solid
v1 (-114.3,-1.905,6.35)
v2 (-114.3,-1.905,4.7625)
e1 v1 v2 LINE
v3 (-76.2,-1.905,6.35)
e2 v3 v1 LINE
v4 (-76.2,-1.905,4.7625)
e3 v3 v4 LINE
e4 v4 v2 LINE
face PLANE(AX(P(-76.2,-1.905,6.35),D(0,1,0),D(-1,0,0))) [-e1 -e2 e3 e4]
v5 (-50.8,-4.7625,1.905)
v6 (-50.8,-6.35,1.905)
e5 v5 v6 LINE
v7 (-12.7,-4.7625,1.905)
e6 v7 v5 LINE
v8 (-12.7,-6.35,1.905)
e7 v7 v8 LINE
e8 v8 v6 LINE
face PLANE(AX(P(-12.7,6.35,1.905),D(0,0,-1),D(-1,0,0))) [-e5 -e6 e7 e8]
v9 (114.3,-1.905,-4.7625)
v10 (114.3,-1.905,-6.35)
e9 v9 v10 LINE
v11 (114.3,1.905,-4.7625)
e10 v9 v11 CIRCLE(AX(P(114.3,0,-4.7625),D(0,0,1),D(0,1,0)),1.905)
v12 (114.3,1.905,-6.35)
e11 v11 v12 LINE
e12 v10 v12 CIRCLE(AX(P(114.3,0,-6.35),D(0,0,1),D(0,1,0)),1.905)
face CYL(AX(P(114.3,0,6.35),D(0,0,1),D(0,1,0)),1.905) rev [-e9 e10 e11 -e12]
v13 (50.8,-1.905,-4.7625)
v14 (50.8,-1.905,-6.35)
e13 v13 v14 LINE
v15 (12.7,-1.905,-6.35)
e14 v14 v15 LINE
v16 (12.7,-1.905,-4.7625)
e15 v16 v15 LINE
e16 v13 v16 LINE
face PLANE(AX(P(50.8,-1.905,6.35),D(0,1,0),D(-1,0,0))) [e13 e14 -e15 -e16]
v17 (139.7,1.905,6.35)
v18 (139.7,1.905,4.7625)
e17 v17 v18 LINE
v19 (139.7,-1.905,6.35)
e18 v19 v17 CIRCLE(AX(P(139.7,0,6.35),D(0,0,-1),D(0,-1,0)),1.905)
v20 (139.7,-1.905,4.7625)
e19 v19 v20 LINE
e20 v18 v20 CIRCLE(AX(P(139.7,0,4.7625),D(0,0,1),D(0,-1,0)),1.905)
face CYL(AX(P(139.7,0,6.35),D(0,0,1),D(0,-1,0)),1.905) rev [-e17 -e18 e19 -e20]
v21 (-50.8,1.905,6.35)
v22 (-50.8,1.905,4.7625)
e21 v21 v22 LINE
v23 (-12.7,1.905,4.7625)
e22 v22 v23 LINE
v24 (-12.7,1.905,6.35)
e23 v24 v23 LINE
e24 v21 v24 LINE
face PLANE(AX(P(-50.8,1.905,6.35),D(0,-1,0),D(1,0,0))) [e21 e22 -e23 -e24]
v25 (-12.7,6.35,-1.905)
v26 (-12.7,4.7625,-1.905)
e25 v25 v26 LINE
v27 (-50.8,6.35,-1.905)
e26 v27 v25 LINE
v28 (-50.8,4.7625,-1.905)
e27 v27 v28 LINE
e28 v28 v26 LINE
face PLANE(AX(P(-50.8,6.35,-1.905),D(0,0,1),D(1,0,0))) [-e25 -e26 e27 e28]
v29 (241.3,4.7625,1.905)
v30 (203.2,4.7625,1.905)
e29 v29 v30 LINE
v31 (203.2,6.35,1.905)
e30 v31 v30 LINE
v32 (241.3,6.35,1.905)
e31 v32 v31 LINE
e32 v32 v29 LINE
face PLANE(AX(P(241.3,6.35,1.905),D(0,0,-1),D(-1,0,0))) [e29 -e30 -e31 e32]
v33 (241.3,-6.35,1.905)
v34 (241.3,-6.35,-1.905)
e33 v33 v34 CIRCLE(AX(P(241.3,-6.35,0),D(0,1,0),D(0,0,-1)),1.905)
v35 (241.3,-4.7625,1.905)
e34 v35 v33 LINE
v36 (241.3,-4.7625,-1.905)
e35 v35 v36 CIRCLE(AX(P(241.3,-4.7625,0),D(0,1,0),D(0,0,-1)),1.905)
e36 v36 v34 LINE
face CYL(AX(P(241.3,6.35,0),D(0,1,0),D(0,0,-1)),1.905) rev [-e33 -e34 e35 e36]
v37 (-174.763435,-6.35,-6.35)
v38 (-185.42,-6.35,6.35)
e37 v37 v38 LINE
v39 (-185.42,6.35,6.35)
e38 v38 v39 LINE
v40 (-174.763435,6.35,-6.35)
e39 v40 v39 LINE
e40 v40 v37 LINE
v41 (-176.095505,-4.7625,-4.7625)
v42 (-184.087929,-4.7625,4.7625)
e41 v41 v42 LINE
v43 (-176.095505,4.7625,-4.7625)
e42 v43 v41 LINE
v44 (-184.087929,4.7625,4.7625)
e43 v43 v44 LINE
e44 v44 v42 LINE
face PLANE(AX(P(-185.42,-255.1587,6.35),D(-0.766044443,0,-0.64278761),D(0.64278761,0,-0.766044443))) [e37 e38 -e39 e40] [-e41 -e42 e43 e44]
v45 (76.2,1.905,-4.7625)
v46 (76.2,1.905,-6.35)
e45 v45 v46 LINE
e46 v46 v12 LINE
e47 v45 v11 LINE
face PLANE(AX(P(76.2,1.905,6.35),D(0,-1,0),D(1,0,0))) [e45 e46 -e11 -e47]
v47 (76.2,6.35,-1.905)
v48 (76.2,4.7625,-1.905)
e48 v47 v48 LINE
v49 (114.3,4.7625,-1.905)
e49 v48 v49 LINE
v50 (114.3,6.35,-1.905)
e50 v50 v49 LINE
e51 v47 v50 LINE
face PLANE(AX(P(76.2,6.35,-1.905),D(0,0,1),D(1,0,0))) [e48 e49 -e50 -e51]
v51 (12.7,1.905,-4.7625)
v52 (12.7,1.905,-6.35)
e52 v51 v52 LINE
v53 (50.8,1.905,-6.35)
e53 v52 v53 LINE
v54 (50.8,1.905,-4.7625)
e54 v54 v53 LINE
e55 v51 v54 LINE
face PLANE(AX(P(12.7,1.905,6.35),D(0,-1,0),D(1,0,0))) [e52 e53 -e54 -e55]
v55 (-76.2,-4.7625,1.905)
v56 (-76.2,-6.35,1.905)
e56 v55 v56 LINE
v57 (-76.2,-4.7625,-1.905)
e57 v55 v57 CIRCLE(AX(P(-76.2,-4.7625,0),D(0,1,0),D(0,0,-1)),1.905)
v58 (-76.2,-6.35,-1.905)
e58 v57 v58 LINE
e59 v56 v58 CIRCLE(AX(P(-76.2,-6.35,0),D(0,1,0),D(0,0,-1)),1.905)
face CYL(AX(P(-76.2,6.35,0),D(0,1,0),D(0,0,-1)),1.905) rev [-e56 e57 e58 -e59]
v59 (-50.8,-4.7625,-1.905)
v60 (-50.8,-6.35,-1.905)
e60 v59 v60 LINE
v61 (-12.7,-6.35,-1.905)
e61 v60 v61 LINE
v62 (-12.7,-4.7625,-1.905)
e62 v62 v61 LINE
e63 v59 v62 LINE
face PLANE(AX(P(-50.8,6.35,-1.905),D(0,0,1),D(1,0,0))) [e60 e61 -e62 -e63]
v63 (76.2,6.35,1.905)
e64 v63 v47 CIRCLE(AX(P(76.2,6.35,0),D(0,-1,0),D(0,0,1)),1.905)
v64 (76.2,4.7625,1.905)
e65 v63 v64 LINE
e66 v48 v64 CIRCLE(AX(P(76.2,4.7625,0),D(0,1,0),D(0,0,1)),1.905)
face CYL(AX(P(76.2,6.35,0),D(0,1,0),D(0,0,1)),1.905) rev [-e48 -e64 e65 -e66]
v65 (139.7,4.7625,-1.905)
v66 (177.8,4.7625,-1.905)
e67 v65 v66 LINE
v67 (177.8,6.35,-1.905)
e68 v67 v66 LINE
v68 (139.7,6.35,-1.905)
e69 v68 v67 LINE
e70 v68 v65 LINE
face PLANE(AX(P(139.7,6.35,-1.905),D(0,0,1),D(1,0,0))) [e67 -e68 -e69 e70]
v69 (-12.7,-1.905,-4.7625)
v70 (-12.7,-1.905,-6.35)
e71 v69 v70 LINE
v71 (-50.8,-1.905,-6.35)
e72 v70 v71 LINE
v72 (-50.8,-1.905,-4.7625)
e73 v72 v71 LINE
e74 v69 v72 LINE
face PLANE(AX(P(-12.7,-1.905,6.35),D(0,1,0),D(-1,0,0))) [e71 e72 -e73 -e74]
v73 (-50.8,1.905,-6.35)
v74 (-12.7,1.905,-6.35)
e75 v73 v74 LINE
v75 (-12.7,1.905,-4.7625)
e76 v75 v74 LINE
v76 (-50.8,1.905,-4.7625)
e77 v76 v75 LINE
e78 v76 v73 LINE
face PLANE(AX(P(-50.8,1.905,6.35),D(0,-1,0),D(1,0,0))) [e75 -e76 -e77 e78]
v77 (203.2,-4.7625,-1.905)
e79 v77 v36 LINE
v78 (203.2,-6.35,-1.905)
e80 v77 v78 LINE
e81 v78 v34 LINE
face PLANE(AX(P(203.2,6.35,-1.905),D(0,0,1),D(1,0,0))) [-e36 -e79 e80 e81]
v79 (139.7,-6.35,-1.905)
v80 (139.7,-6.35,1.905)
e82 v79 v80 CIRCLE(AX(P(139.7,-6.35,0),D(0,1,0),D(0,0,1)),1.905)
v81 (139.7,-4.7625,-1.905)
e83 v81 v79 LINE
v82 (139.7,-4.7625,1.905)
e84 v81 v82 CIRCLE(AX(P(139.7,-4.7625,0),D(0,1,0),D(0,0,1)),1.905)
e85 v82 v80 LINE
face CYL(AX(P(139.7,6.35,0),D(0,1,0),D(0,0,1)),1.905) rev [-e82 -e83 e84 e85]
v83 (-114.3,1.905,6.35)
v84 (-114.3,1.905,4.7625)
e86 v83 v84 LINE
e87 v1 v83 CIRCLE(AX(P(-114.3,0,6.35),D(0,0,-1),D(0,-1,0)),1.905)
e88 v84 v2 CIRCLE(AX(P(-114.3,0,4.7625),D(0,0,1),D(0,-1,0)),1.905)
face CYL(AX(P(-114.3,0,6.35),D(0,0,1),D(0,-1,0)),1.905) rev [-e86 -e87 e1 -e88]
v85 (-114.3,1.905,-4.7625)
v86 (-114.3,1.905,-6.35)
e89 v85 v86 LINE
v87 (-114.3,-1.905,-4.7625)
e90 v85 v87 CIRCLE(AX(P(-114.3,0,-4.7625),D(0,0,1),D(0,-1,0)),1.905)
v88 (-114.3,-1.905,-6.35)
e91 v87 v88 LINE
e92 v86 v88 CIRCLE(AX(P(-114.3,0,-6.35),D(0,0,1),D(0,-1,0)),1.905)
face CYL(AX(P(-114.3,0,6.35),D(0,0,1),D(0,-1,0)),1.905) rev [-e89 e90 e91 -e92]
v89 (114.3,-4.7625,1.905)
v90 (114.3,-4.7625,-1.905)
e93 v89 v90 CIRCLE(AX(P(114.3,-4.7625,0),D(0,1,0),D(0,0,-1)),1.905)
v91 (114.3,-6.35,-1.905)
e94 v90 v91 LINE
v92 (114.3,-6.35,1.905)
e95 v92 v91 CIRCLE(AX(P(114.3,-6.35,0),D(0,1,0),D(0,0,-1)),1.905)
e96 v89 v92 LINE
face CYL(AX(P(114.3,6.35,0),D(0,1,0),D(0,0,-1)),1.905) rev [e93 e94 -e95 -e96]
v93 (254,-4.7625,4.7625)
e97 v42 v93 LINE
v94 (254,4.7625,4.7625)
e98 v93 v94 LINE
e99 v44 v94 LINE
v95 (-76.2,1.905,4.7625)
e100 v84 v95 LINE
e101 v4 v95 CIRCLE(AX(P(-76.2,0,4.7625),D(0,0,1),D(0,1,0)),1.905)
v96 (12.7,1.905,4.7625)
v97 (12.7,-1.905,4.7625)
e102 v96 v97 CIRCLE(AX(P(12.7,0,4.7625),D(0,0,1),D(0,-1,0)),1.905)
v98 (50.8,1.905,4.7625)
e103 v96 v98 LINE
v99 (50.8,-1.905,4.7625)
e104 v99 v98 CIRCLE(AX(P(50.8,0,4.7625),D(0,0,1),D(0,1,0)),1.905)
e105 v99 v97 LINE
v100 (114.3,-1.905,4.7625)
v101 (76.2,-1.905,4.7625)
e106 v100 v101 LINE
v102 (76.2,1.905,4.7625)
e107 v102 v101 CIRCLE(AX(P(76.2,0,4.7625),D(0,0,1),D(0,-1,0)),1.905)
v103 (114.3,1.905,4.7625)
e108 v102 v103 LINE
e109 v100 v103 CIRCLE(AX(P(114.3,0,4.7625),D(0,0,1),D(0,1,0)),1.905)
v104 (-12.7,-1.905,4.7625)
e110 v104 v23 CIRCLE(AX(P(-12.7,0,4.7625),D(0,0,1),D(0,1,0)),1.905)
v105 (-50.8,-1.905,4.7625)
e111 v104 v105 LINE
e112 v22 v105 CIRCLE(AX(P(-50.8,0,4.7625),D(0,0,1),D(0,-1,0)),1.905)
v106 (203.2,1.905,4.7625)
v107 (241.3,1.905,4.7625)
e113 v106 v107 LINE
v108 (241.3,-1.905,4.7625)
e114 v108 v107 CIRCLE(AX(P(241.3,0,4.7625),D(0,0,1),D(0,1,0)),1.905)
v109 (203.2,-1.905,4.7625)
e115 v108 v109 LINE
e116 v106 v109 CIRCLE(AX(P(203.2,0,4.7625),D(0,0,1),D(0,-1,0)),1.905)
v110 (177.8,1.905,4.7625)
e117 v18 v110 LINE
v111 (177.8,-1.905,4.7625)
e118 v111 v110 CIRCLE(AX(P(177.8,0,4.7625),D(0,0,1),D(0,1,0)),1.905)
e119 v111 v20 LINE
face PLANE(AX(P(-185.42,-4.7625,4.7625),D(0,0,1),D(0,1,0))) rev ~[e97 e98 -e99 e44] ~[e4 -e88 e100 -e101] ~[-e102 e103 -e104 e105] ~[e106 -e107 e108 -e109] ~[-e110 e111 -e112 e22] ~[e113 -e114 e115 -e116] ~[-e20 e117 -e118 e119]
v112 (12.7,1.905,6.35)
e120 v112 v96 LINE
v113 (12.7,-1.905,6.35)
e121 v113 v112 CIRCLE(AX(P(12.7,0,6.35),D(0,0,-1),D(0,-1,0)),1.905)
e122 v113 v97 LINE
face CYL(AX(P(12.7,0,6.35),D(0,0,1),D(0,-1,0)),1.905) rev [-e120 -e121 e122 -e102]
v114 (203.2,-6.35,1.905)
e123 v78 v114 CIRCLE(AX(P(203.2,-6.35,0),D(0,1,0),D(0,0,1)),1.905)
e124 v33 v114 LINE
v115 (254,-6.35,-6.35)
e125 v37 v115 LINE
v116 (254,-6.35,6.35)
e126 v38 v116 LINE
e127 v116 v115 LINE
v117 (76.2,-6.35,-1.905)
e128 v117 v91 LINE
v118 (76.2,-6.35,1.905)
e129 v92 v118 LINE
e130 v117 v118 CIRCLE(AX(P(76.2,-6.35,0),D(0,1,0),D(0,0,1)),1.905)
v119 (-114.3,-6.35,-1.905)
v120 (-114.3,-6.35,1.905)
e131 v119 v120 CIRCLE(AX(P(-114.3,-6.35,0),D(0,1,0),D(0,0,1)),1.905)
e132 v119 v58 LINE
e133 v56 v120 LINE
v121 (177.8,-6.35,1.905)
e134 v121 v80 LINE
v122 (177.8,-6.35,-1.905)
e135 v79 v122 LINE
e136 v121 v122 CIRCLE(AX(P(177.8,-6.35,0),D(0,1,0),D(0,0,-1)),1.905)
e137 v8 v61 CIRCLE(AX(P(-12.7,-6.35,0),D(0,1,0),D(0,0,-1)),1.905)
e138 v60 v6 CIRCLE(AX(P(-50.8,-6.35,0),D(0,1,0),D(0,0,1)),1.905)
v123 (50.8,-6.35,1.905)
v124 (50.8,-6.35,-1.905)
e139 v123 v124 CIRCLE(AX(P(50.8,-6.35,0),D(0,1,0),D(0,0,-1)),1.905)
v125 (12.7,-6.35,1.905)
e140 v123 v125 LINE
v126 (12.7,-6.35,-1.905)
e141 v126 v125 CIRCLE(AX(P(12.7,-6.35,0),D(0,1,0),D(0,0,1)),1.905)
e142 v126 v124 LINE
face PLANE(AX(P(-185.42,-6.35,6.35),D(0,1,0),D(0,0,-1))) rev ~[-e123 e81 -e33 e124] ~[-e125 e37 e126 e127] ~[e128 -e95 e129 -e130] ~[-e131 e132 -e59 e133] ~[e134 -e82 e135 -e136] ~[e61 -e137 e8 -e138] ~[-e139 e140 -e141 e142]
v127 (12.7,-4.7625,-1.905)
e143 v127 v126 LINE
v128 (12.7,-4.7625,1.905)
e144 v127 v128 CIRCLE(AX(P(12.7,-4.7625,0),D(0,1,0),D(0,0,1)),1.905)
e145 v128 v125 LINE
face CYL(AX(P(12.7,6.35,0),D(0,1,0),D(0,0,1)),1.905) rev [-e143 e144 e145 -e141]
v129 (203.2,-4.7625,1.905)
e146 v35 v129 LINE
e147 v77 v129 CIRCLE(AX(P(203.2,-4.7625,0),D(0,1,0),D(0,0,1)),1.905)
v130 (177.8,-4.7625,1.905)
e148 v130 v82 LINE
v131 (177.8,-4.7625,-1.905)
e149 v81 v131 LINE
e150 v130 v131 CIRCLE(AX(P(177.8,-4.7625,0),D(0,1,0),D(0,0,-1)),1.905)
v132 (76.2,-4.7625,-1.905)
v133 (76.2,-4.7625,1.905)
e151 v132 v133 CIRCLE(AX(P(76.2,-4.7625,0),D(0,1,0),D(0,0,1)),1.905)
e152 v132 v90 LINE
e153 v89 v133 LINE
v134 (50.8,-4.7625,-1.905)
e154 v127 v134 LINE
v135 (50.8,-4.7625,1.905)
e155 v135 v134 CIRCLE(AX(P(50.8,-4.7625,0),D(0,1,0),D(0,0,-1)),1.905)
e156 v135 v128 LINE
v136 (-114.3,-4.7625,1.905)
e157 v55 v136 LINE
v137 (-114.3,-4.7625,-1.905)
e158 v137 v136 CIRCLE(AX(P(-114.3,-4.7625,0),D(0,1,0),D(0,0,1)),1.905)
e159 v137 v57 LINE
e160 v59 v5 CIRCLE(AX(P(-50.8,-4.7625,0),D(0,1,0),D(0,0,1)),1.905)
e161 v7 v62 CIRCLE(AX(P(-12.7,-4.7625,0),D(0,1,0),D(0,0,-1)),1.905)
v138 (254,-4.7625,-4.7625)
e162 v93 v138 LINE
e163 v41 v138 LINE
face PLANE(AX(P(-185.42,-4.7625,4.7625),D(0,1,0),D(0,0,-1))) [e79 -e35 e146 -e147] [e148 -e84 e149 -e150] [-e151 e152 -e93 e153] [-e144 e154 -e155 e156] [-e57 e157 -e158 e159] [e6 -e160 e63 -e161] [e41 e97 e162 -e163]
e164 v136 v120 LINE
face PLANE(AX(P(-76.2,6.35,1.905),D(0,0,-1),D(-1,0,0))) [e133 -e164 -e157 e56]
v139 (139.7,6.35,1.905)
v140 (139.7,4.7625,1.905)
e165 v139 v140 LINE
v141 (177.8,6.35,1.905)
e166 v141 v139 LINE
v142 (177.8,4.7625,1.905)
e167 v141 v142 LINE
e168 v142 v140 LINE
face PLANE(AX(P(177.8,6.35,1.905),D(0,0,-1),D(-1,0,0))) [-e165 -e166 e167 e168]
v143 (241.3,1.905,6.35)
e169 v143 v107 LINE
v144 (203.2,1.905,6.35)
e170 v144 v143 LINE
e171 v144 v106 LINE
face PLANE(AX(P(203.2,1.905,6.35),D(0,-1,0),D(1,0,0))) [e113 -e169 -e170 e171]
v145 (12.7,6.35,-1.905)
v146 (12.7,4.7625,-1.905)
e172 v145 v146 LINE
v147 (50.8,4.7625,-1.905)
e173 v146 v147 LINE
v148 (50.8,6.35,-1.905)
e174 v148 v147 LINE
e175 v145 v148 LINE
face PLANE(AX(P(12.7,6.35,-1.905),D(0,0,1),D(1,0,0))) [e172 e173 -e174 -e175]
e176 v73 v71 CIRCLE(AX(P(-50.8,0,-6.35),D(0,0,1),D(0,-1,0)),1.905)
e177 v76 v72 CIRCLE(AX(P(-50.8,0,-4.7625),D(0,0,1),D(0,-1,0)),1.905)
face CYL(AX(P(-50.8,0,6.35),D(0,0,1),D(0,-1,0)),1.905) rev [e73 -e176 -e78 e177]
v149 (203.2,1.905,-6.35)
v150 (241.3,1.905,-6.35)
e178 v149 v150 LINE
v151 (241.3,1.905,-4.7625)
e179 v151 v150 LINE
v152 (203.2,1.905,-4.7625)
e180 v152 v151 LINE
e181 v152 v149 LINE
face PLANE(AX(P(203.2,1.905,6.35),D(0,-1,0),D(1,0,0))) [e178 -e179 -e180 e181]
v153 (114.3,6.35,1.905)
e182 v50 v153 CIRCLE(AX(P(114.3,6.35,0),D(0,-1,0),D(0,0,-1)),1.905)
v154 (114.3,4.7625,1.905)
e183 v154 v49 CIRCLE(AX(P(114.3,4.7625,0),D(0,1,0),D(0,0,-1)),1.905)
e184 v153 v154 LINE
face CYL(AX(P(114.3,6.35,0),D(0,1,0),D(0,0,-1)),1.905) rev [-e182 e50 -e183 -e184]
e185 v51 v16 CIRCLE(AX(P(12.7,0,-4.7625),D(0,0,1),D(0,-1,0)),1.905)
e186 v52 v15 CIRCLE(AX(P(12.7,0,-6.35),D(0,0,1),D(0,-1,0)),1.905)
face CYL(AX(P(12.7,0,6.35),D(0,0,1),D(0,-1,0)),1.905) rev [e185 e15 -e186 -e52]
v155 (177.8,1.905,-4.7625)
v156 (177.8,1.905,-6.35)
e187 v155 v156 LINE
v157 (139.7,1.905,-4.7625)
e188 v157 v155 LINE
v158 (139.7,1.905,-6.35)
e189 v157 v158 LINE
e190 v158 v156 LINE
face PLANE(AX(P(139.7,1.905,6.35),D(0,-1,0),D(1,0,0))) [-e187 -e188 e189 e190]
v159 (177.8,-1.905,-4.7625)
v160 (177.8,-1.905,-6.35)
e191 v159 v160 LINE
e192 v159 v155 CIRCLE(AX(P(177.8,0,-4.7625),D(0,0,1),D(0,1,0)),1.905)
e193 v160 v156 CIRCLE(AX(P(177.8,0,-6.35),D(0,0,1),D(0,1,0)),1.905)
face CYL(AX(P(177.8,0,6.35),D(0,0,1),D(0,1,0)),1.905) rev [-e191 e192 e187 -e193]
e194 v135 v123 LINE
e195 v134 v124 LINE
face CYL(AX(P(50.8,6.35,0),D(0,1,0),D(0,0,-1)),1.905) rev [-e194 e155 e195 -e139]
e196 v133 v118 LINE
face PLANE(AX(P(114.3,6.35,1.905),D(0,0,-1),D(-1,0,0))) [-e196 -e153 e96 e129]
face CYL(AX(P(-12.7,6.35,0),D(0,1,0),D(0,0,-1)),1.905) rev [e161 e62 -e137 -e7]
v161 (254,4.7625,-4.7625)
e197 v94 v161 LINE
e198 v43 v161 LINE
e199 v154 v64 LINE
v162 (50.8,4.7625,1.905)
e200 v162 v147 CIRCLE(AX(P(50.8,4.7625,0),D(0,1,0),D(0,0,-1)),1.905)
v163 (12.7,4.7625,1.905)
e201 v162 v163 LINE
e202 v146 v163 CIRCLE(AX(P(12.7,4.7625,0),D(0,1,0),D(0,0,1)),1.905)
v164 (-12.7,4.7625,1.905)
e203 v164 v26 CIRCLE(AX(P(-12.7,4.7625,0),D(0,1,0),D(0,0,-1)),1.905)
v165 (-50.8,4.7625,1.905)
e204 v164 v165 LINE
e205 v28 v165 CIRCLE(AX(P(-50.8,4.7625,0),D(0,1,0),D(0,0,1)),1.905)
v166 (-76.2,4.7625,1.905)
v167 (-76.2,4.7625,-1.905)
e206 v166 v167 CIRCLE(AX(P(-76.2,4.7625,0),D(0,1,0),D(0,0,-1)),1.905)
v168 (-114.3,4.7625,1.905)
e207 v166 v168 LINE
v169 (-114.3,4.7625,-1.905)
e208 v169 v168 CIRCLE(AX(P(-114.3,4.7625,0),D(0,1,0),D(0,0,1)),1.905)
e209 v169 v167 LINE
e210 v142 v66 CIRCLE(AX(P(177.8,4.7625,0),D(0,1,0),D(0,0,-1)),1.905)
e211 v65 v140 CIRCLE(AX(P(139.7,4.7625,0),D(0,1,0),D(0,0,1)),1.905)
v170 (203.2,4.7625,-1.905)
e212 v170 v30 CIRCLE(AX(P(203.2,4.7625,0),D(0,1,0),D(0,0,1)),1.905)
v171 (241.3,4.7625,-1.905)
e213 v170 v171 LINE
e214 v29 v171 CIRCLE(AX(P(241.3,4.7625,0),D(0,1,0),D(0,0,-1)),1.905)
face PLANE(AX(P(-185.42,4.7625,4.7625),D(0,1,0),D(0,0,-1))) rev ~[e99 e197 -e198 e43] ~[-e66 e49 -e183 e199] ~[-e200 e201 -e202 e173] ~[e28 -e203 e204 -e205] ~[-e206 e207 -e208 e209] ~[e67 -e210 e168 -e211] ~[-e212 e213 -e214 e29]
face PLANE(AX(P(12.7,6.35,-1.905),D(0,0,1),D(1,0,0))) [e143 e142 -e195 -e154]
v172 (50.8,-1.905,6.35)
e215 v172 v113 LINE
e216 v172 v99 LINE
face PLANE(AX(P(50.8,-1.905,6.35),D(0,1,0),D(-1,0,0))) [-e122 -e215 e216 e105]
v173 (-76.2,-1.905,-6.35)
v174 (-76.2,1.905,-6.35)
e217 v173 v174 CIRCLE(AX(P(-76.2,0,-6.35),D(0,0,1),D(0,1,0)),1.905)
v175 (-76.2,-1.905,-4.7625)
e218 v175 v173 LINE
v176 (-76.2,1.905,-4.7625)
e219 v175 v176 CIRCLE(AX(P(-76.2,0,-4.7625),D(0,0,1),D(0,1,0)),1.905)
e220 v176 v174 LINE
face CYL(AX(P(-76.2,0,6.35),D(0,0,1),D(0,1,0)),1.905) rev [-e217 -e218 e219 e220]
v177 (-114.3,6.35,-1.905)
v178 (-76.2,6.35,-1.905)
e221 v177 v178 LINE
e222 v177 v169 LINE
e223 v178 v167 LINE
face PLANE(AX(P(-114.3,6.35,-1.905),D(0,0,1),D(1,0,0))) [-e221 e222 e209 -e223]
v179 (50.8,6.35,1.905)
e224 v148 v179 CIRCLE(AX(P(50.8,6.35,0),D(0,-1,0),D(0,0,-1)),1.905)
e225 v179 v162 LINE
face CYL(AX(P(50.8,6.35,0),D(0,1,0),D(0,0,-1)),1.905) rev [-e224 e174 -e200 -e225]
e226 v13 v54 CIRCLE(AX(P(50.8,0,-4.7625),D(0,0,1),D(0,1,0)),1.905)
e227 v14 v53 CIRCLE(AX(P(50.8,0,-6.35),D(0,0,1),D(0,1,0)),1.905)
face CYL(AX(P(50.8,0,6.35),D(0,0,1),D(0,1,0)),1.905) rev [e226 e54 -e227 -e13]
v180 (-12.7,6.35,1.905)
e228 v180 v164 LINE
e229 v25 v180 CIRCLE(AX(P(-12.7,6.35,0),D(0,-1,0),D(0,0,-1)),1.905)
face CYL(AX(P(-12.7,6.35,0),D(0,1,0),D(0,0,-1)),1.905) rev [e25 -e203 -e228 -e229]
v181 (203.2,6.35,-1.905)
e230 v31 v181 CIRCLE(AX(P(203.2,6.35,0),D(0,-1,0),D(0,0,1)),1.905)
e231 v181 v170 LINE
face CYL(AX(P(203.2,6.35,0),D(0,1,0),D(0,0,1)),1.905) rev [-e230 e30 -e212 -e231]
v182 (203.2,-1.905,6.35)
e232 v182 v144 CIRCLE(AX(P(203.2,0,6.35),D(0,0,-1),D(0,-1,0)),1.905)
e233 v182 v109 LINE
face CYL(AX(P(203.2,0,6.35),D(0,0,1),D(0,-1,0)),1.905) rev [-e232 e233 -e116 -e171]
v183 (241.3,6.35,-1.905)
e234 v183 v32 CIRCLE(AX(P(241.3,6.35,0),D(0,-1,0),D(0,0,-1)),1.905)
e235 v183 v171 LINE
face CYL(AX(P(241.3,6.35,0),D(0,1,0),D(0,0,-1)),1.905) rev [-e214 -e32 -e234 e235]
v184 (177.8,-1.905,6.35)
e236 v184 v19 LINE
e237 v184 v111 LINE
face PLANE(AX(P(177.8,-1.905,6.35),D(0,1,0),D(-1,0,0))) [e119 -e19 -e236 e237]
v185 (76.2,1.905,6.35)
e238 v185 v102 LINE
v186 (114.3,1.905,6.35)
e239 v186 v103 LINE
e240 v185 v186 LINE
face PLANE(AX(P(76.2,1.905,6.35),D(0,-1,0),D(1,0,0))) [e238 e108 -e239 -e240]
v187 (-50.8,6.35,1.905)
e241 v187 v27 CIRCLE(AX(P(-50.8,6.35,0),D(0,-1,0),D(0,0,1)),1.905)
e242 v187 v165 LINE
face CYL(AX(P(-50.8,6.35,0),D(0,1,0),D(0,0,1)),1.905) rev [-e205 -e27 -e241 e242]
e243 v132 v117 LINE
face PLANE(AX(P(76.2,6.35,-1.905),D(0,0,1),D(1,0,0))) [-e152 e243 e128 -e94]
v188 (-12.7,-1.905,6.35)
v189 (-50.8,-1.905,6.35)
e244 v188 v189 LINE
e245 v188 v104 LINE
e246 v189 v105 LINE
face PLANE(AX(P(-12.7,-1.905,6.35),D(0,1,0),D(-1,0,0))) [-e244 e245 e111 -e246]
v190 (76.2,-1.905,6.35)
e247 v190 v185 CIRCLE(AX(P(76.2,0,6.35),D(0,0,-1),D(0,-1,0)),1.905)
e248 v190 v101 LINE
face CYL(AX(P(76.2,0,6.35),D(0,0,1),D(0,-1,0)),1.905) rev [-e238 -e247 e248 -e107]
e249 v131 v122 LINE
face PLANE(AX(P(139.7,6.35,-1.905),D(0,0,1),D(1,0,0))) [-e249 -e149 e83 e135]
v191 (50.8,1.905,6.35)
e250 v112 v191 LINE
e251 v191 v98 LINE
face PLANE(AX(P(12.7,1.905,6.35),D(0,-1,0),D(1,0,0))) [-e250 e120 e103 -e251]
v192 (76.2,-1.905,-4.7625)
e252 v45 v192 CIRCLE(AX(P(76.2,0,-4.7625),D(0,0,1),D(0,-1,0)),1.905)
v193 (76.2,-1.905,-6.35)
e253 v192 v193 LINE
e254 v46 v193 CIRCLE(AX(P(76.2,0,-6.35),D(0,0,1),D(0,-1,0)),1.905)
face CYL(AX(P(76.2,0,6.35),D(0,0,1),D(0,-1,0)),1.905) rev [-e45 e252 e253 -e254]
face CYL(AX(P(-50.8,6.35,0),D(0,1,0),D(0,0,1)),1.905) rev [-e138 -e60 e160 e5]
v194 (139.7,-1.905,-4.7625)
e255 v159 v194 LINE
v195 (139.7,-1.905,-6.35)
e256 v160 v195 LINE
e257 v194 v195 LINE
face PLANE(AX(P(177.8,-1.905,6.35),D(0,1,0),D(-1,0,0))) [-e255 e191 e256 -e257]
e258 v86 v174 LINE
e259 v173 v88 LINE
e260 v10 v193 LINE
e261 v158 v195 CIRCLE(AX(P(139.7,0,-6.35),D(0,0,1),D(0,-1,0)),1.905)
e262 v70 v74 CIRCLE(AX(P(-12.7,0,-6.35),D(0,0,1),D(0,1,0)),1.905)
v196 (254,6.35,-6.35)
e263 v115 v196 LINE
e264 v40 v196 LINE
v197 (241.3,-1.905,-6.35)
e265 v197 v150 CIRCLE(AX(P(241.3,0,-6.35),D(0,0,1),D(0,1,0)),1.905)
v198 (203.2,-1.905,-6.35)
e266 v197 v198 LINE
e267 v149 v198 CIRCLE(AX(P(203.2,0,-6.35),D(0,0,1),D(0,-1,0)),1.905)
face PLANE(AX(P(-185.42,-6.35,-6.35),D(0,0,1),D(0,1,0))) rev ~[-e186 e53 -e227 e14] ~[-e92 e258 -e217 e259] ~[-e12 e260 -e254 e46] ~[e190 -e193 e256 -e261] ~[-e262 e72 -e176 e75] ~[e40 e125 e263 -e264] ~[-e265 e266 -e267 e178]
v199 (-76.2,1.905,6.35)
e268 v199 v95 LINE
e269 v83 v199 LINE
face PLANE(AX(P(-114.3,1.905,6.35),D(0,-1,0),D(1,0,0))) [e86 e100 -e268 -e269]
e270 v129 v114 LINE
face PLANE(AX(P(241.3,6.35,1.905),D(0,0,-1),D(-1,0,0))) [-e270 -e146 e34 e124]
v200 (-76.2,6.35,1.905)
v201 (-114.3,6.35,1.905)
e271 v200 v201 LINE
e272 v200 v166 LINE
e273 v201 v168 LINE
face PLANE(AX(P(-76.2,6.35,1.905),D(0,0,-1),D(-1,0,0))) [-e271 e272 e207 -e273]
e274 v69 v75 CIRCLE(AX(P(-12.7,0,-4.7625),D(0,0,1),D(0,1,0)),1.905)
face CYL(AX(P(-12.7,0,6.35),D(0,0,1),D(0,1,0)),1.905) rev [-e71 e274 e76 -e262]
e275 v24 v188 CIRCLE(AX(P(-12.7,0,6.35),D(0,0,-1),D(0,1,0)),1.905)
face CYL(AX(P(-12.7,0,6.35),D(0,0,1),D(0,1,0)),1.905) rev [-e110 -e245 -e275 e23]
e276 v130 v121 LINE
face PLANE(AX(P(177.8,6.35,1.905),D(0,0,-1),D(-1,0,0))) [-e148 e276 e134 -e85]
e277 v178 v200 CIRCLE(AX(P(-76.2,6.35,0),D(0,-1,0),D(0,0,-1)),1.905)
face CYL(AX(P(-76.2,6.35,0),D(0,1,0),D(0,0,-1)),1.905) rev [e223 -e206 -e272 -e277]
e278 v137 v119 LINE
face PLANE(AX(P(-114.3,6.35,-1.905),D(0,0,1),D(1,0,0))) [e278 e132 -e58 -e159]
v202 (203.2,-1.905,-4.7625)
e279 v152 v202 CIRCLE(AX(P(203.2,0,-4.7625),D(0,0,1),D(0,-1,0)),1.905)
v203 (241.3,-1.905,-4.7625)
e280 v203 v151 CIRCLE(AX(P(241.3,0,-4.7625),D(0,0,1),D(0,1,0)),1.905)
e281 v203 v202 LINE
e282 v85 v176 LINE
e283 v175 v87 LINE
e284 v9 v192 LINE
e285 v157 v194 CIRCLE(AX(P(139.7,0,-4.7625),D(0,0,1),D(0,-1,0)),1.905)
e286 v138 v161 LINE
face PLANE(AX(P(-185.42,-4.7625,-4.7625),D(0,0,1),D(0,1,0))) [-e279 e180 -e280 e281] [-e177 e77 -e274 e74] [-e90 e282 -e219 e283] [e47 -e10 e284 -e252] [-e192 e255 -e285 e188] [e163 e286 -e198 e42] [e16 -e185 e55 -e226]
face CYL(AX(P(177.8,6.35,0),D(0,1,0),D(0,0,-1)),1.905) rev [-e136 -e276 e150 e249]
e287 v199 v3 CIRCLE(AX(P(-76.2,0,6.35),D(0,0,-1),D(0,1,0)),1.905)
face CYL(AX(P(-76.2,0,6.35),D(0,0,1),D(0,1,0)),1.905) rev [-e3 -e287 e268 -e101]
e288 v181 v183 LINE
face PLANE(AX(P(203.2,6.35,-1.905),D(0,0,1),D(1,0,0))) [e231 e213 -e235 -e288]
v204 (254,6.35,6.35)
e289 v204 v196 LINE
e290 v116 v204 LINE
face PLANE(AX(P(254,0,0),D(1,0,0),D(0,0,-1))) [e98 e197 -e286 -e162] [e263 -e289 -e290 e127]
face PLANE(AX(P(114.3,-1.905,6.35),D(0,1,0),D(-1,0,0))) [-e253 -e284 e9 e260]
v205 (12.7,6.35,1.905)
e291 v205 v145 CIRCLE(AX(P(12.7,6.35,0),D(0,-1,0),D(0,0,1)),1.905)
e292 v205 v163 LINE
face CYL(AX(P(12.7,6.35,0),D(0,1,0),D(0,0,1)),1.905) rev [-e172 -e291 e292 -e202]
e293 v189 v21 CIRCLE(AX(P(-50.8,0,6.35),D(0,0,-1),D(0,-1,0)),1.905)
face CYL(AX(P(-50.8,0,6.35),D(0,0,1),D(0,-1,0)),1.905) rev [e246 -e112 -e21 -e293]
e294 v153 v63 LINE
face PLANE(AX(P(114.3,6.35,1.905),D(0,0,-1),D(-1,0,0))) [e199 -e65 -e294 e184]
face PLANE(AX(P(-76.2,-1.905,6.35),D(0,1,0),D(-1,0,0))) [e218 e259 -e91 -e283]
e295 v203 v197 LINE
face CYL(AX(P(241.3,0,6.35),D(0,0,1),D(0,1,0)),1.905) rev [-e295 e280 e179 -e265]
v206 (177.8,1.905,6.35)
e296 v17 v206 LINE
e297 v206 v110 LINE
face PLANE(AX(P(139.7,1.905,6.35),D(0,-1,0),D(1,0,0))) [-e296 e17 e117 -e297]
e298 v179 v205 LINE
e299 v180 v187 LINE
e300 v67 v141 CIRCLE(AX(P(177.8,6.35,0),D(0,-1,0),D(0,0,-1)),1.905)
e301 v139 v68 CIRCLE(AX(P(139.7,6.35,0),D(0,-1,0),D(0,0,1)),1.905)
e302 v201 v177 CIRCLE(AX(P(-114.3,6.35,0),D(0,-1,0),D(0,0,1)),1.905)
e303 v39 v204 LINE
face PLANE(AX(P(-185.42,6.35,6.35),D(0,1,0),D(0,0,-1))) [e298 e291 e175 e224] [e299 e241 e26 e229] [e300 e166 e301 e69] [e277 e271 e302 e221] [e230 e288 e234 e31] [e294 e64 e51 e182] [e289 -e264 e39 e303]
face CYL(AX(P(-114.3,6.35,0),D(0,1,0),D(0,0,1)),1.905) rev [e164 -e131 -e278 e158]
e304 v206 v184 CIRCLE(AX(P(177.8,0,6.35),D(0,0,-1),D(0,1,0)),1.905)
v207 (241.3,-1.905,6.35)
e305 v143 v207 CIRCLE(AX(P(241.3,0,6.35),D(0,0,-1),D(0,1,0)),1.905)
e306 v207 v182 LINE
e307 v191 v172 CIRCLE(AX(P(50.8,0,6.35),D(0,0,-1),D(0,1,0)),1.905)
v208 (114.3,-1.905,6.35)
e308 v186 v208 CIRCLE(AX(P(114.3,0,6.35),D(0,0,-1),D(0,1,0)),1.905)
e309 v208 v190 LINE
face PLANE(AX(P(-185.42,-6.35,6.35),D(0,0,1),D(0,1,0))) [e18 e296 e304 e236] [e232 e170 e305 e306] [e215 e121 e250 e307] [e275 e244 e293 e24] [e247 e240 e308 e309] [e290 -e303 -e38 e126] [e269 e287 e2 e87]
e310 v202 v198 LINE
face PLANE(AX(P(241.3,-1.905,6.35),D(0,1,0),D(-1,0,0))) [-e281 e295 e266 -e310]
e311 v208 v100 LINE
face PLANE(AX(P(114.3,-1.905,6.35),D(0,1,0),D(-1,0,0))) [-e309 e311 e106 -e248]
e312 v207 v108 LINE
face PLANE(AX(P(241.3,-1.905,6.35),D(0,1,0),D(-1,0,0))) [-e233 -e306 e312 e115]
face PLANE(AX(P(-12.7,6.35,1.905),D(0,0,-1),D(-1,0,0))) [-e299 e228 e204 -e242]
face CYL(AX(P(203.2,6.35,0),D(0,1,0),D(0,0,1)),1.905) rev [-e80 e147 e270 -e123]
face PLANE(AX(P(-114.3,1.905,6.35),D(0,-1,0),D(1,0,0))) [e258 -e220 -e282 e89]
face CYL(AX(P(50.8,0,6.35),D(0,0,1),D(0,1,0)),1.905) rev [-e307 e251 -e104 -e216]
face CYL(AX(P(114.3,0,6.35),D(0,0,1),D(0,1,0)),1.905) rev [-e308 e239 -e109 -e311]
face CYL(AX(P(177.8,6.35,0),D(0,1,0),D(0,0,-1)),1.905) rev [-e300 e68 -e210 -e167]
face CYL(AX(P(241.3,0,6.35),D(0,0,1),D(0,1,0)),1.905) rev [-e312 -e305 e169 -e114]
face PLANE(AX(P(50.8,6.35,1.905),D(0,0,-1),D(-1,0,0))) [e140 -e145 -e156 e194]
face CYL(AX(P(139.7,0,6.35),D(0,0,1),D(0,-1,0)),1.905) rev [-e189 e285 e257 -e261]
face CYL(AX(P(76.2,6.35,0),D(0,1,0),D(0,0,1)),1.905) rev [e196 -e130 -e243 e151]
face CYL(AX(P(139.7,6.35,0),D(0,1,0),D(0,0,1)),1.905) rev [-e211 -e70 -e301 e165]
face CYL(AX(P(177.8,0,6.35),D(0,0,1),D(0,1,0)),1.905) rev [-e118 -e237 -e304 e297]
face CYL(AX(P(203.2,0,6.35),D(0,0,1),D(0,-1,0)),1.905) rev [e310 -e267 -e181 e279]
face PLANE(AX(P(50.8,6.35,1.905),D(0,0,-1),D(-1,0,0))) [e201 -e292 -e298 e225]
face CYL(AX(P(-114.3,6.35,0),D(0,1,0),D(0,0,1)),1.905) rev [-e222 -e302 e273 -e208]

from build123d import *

# Parameters (mm, degrees)
BOSS_EXTRUDE1_DEPTH      = 254
BOSS_EXTRUDE1_DEPTH_BACK = 185.42
SKETCH1_W                = 12.7
SKETCH1_H                = 12.7
SKETCH1_W_2              = 9.525
SKETCH1_H_2              = 9.525
CUT_EXTRUDE1_DEPTH       = 255.158700422
CUT_EXTRUDE1_DEPTH_BACK  = 255.158700422
CUT_EXTRUDE2_DEPTH       = 255.396565425
CUT_EXTRUDE3_DEPTH       = 255.396565425


with BuildPart() as part:
    # Sketch1 → Boss-Extrude1 (new, two sides: drawn at the far end of the back side and taken through both)
    with BuildSketch(Plane(origin=(0, 0, 0), x_dir=(0, 0, -1), z_dir=(1, 0, 0)).offset(-BOSS_EXTRUDE1_DEPTH_BACK)):
        Rectangle(SKETCH1_W, SKETCH1_H)
        Rectangle(SKETCH1_W_2, SKETCH1_H_2, mode=Mode.SUBTRACT)
    extrude(amount=BOSS_EXTRUDE1_DEPTH + BOSS_EXTRUDE1_DEPTH_BACK)

    # Sketch2 → Cut-Extrude1 (cut, two sides: drawn at the far end of the back side and taken through both)
    with BuildSketch(Plane(origin=(0, 0, 0), x_dir=(1, 0, 0), z_dir=(0, 1, 0)).offset(-CUT_EXTRUDE1_DEPTH_BACK)):
        Polygon((-185.42, -6.35), (-174.250456919, 6.961343094), (-183.078216502, 14.368712905), (-194.247759583, 1.057369811), align=None)
    extrude(amount=CUT_EXTRUDE1_DEPTH + CUT_EXTRUDE1_DEPTH_BACK, mode=Mode.SUBTRACT)

    # Sketch3 → Cut-Extrude2 (cut, through all)
    with BuildSketch(Plane(origin=(0, 6.35, 0), x_dir=(1, 0, 0), z_dir=(0, 1, 0))):
        with BuildLine():
            Line((-114.3, 1.905), (-76.2, 1.905))
            ThreePointArc((-76.2, 1.905), (-74.295, 0), (-76.2, -1.905))
            Line((-76.2, -1.905), (-114.3, -1.905))
            ThreePointArc((-114.3, -1.905), (-116.205, 0), (-114.3, 1.905))
        make_face()
        with BuildLine():
            Line((-50.8, 1.905), (-12.7, 1.905))
            ThreePointArc((-12.7, 1.905), (-10.795, 0), (-12.7, -1.905))
            Line((-12.7, -1.905), (-50.8, -1.905))
            ThreePointArc((-50.8, -1.905), (-52.705, 0), (-50.8, 1.905))
        make_face()
        with BuildLine():
            Line((12.7, 1.905), (50.8, 1.905))
            ThreePointArc((50.8, 1.905), (52.705, 0), (50.8, -1.905))
            Line((50.8, -1.905), (12.7, -1.905))
            ThreePointArc((12.7, -1.905), (10.795, 0), (12.7, 1.905))
        make_face()
        with BuildLine():
            Line((76.2, 1.905), (114.3, 1.905))
            ThreePointArc((114.3, 1.905), (116.205, 0), (114.3, -1.905))
            Line((114.3, -1.905), (76.2, -1.905))
            ThreePointArc((76.2, -1.905), (74.295, 0), (76.2, 1.905))
        make_face()
        with BuildLine():
            Line((139.7, 1.905), (177.8, 1.905))
            ThreePointArc((177.8, 1.905), (179.705, 0), (177.8, -1.905))
            Line((177.8, -1.905), (139.7, -1.905))
            ThreePointArc((139.7, -1.905), (137.795, 0), (139.7, 1.905))
        make_face()
        with BuildLine():
            Line((203.2, 1.905), (241.3, 1.905))
            ThreePointArc((241.3, 1.905), (243.205, 0), (241.3, -1.905))
            Line((241.3, -1.905), (203.2, -1.905))
            ThreePointArc((203.2, -1.905), (201.295, 0), (203.2, 1.905))
        make_face()
    extrude(amount=-CUT_EXTRUDE2_DEPTH, mode=Mode.SUBTRACT)

    # Sketch4 → Cut-Extrude3 (cut, through all)
    with BuildSketch(Plane.XY.offset(6.35)):
        with BuildLine():
            Line((-114.3, 1.905), (-76.2, 1.905))
            ThreePointArc((-76.2, 1.905), (-74.295, 0), (-76.2, -1.905))
            Line((-76.2, -1.905), (-114.3, -1.905))
            ThreePointArc((-114.3, -1.905), (-116.205, 0), (-114.3, 1.905))
        make_face()
        with BuildLine():
            Line((-50.8, 1.905), (-12.7, 1.905))
            ThreePointArc((-12.7, 1.905), (-10.795, 0), (-12.7, -1.905))
            Line((-12.7, -1.905), (-50.8, -1.905))
            ThreePointArc((-50.8, -1.905), (-52.705, 0), (-50.8, 1.905))
        make_face()
        with BuildLine():
            Line((12.7, 1.905), (50.8, 1.905))
            ThreePointArc((50.8, 1.905), (52.705, 0), (50.8, -1.905))
            Line((50.8, -1.905), (12.7, -1.905))
            ThreePointArc((12.7, -1.905), (10.795, 0), (12.7, 1.905))
        make_face()
        with BuildLine():
            Line((76.2, 1.905), (114.3, 1.905))
            ThreePointArc((114.3, 1.905), (116.205, 0), (114.3, -1.905))
            Line((114.3, -1.905), (76.2, -1.905))
            ThreePointArc((76.2, -1.905), (74.295, 0), (76.2, 1.905))
        make_face()
        with BuildLine():
            Line((139.7, 1.905), (177.8, 1.905))
            ThreePointArc((177.8, 1.905), (179.705, 0), (177.8, -1.905))
            Line((177.8, -1.905), (139.7, -1.905))
            ThreePointArc((139.7, -1.905), (137.795, 0), (139.7, 1.905))
        make_face()
        with BuildLine():
            Line((203.2, 1.905), (241.3, 1.905))
            ThreePointArc((241.3, 1.905), (243.205, 0), (241.3, -1.905))
            Line((241.3, -1.905), (203.2, -1.905))
            ThreePointArc((203.2, -1.905), (201.295, 0), (203.2, 1.905))
        make_face()
    extrude(amount=-CUT_EXTRUDE3_DEPTH, mode=Mode.SUBTRACT)


solid = part.part
